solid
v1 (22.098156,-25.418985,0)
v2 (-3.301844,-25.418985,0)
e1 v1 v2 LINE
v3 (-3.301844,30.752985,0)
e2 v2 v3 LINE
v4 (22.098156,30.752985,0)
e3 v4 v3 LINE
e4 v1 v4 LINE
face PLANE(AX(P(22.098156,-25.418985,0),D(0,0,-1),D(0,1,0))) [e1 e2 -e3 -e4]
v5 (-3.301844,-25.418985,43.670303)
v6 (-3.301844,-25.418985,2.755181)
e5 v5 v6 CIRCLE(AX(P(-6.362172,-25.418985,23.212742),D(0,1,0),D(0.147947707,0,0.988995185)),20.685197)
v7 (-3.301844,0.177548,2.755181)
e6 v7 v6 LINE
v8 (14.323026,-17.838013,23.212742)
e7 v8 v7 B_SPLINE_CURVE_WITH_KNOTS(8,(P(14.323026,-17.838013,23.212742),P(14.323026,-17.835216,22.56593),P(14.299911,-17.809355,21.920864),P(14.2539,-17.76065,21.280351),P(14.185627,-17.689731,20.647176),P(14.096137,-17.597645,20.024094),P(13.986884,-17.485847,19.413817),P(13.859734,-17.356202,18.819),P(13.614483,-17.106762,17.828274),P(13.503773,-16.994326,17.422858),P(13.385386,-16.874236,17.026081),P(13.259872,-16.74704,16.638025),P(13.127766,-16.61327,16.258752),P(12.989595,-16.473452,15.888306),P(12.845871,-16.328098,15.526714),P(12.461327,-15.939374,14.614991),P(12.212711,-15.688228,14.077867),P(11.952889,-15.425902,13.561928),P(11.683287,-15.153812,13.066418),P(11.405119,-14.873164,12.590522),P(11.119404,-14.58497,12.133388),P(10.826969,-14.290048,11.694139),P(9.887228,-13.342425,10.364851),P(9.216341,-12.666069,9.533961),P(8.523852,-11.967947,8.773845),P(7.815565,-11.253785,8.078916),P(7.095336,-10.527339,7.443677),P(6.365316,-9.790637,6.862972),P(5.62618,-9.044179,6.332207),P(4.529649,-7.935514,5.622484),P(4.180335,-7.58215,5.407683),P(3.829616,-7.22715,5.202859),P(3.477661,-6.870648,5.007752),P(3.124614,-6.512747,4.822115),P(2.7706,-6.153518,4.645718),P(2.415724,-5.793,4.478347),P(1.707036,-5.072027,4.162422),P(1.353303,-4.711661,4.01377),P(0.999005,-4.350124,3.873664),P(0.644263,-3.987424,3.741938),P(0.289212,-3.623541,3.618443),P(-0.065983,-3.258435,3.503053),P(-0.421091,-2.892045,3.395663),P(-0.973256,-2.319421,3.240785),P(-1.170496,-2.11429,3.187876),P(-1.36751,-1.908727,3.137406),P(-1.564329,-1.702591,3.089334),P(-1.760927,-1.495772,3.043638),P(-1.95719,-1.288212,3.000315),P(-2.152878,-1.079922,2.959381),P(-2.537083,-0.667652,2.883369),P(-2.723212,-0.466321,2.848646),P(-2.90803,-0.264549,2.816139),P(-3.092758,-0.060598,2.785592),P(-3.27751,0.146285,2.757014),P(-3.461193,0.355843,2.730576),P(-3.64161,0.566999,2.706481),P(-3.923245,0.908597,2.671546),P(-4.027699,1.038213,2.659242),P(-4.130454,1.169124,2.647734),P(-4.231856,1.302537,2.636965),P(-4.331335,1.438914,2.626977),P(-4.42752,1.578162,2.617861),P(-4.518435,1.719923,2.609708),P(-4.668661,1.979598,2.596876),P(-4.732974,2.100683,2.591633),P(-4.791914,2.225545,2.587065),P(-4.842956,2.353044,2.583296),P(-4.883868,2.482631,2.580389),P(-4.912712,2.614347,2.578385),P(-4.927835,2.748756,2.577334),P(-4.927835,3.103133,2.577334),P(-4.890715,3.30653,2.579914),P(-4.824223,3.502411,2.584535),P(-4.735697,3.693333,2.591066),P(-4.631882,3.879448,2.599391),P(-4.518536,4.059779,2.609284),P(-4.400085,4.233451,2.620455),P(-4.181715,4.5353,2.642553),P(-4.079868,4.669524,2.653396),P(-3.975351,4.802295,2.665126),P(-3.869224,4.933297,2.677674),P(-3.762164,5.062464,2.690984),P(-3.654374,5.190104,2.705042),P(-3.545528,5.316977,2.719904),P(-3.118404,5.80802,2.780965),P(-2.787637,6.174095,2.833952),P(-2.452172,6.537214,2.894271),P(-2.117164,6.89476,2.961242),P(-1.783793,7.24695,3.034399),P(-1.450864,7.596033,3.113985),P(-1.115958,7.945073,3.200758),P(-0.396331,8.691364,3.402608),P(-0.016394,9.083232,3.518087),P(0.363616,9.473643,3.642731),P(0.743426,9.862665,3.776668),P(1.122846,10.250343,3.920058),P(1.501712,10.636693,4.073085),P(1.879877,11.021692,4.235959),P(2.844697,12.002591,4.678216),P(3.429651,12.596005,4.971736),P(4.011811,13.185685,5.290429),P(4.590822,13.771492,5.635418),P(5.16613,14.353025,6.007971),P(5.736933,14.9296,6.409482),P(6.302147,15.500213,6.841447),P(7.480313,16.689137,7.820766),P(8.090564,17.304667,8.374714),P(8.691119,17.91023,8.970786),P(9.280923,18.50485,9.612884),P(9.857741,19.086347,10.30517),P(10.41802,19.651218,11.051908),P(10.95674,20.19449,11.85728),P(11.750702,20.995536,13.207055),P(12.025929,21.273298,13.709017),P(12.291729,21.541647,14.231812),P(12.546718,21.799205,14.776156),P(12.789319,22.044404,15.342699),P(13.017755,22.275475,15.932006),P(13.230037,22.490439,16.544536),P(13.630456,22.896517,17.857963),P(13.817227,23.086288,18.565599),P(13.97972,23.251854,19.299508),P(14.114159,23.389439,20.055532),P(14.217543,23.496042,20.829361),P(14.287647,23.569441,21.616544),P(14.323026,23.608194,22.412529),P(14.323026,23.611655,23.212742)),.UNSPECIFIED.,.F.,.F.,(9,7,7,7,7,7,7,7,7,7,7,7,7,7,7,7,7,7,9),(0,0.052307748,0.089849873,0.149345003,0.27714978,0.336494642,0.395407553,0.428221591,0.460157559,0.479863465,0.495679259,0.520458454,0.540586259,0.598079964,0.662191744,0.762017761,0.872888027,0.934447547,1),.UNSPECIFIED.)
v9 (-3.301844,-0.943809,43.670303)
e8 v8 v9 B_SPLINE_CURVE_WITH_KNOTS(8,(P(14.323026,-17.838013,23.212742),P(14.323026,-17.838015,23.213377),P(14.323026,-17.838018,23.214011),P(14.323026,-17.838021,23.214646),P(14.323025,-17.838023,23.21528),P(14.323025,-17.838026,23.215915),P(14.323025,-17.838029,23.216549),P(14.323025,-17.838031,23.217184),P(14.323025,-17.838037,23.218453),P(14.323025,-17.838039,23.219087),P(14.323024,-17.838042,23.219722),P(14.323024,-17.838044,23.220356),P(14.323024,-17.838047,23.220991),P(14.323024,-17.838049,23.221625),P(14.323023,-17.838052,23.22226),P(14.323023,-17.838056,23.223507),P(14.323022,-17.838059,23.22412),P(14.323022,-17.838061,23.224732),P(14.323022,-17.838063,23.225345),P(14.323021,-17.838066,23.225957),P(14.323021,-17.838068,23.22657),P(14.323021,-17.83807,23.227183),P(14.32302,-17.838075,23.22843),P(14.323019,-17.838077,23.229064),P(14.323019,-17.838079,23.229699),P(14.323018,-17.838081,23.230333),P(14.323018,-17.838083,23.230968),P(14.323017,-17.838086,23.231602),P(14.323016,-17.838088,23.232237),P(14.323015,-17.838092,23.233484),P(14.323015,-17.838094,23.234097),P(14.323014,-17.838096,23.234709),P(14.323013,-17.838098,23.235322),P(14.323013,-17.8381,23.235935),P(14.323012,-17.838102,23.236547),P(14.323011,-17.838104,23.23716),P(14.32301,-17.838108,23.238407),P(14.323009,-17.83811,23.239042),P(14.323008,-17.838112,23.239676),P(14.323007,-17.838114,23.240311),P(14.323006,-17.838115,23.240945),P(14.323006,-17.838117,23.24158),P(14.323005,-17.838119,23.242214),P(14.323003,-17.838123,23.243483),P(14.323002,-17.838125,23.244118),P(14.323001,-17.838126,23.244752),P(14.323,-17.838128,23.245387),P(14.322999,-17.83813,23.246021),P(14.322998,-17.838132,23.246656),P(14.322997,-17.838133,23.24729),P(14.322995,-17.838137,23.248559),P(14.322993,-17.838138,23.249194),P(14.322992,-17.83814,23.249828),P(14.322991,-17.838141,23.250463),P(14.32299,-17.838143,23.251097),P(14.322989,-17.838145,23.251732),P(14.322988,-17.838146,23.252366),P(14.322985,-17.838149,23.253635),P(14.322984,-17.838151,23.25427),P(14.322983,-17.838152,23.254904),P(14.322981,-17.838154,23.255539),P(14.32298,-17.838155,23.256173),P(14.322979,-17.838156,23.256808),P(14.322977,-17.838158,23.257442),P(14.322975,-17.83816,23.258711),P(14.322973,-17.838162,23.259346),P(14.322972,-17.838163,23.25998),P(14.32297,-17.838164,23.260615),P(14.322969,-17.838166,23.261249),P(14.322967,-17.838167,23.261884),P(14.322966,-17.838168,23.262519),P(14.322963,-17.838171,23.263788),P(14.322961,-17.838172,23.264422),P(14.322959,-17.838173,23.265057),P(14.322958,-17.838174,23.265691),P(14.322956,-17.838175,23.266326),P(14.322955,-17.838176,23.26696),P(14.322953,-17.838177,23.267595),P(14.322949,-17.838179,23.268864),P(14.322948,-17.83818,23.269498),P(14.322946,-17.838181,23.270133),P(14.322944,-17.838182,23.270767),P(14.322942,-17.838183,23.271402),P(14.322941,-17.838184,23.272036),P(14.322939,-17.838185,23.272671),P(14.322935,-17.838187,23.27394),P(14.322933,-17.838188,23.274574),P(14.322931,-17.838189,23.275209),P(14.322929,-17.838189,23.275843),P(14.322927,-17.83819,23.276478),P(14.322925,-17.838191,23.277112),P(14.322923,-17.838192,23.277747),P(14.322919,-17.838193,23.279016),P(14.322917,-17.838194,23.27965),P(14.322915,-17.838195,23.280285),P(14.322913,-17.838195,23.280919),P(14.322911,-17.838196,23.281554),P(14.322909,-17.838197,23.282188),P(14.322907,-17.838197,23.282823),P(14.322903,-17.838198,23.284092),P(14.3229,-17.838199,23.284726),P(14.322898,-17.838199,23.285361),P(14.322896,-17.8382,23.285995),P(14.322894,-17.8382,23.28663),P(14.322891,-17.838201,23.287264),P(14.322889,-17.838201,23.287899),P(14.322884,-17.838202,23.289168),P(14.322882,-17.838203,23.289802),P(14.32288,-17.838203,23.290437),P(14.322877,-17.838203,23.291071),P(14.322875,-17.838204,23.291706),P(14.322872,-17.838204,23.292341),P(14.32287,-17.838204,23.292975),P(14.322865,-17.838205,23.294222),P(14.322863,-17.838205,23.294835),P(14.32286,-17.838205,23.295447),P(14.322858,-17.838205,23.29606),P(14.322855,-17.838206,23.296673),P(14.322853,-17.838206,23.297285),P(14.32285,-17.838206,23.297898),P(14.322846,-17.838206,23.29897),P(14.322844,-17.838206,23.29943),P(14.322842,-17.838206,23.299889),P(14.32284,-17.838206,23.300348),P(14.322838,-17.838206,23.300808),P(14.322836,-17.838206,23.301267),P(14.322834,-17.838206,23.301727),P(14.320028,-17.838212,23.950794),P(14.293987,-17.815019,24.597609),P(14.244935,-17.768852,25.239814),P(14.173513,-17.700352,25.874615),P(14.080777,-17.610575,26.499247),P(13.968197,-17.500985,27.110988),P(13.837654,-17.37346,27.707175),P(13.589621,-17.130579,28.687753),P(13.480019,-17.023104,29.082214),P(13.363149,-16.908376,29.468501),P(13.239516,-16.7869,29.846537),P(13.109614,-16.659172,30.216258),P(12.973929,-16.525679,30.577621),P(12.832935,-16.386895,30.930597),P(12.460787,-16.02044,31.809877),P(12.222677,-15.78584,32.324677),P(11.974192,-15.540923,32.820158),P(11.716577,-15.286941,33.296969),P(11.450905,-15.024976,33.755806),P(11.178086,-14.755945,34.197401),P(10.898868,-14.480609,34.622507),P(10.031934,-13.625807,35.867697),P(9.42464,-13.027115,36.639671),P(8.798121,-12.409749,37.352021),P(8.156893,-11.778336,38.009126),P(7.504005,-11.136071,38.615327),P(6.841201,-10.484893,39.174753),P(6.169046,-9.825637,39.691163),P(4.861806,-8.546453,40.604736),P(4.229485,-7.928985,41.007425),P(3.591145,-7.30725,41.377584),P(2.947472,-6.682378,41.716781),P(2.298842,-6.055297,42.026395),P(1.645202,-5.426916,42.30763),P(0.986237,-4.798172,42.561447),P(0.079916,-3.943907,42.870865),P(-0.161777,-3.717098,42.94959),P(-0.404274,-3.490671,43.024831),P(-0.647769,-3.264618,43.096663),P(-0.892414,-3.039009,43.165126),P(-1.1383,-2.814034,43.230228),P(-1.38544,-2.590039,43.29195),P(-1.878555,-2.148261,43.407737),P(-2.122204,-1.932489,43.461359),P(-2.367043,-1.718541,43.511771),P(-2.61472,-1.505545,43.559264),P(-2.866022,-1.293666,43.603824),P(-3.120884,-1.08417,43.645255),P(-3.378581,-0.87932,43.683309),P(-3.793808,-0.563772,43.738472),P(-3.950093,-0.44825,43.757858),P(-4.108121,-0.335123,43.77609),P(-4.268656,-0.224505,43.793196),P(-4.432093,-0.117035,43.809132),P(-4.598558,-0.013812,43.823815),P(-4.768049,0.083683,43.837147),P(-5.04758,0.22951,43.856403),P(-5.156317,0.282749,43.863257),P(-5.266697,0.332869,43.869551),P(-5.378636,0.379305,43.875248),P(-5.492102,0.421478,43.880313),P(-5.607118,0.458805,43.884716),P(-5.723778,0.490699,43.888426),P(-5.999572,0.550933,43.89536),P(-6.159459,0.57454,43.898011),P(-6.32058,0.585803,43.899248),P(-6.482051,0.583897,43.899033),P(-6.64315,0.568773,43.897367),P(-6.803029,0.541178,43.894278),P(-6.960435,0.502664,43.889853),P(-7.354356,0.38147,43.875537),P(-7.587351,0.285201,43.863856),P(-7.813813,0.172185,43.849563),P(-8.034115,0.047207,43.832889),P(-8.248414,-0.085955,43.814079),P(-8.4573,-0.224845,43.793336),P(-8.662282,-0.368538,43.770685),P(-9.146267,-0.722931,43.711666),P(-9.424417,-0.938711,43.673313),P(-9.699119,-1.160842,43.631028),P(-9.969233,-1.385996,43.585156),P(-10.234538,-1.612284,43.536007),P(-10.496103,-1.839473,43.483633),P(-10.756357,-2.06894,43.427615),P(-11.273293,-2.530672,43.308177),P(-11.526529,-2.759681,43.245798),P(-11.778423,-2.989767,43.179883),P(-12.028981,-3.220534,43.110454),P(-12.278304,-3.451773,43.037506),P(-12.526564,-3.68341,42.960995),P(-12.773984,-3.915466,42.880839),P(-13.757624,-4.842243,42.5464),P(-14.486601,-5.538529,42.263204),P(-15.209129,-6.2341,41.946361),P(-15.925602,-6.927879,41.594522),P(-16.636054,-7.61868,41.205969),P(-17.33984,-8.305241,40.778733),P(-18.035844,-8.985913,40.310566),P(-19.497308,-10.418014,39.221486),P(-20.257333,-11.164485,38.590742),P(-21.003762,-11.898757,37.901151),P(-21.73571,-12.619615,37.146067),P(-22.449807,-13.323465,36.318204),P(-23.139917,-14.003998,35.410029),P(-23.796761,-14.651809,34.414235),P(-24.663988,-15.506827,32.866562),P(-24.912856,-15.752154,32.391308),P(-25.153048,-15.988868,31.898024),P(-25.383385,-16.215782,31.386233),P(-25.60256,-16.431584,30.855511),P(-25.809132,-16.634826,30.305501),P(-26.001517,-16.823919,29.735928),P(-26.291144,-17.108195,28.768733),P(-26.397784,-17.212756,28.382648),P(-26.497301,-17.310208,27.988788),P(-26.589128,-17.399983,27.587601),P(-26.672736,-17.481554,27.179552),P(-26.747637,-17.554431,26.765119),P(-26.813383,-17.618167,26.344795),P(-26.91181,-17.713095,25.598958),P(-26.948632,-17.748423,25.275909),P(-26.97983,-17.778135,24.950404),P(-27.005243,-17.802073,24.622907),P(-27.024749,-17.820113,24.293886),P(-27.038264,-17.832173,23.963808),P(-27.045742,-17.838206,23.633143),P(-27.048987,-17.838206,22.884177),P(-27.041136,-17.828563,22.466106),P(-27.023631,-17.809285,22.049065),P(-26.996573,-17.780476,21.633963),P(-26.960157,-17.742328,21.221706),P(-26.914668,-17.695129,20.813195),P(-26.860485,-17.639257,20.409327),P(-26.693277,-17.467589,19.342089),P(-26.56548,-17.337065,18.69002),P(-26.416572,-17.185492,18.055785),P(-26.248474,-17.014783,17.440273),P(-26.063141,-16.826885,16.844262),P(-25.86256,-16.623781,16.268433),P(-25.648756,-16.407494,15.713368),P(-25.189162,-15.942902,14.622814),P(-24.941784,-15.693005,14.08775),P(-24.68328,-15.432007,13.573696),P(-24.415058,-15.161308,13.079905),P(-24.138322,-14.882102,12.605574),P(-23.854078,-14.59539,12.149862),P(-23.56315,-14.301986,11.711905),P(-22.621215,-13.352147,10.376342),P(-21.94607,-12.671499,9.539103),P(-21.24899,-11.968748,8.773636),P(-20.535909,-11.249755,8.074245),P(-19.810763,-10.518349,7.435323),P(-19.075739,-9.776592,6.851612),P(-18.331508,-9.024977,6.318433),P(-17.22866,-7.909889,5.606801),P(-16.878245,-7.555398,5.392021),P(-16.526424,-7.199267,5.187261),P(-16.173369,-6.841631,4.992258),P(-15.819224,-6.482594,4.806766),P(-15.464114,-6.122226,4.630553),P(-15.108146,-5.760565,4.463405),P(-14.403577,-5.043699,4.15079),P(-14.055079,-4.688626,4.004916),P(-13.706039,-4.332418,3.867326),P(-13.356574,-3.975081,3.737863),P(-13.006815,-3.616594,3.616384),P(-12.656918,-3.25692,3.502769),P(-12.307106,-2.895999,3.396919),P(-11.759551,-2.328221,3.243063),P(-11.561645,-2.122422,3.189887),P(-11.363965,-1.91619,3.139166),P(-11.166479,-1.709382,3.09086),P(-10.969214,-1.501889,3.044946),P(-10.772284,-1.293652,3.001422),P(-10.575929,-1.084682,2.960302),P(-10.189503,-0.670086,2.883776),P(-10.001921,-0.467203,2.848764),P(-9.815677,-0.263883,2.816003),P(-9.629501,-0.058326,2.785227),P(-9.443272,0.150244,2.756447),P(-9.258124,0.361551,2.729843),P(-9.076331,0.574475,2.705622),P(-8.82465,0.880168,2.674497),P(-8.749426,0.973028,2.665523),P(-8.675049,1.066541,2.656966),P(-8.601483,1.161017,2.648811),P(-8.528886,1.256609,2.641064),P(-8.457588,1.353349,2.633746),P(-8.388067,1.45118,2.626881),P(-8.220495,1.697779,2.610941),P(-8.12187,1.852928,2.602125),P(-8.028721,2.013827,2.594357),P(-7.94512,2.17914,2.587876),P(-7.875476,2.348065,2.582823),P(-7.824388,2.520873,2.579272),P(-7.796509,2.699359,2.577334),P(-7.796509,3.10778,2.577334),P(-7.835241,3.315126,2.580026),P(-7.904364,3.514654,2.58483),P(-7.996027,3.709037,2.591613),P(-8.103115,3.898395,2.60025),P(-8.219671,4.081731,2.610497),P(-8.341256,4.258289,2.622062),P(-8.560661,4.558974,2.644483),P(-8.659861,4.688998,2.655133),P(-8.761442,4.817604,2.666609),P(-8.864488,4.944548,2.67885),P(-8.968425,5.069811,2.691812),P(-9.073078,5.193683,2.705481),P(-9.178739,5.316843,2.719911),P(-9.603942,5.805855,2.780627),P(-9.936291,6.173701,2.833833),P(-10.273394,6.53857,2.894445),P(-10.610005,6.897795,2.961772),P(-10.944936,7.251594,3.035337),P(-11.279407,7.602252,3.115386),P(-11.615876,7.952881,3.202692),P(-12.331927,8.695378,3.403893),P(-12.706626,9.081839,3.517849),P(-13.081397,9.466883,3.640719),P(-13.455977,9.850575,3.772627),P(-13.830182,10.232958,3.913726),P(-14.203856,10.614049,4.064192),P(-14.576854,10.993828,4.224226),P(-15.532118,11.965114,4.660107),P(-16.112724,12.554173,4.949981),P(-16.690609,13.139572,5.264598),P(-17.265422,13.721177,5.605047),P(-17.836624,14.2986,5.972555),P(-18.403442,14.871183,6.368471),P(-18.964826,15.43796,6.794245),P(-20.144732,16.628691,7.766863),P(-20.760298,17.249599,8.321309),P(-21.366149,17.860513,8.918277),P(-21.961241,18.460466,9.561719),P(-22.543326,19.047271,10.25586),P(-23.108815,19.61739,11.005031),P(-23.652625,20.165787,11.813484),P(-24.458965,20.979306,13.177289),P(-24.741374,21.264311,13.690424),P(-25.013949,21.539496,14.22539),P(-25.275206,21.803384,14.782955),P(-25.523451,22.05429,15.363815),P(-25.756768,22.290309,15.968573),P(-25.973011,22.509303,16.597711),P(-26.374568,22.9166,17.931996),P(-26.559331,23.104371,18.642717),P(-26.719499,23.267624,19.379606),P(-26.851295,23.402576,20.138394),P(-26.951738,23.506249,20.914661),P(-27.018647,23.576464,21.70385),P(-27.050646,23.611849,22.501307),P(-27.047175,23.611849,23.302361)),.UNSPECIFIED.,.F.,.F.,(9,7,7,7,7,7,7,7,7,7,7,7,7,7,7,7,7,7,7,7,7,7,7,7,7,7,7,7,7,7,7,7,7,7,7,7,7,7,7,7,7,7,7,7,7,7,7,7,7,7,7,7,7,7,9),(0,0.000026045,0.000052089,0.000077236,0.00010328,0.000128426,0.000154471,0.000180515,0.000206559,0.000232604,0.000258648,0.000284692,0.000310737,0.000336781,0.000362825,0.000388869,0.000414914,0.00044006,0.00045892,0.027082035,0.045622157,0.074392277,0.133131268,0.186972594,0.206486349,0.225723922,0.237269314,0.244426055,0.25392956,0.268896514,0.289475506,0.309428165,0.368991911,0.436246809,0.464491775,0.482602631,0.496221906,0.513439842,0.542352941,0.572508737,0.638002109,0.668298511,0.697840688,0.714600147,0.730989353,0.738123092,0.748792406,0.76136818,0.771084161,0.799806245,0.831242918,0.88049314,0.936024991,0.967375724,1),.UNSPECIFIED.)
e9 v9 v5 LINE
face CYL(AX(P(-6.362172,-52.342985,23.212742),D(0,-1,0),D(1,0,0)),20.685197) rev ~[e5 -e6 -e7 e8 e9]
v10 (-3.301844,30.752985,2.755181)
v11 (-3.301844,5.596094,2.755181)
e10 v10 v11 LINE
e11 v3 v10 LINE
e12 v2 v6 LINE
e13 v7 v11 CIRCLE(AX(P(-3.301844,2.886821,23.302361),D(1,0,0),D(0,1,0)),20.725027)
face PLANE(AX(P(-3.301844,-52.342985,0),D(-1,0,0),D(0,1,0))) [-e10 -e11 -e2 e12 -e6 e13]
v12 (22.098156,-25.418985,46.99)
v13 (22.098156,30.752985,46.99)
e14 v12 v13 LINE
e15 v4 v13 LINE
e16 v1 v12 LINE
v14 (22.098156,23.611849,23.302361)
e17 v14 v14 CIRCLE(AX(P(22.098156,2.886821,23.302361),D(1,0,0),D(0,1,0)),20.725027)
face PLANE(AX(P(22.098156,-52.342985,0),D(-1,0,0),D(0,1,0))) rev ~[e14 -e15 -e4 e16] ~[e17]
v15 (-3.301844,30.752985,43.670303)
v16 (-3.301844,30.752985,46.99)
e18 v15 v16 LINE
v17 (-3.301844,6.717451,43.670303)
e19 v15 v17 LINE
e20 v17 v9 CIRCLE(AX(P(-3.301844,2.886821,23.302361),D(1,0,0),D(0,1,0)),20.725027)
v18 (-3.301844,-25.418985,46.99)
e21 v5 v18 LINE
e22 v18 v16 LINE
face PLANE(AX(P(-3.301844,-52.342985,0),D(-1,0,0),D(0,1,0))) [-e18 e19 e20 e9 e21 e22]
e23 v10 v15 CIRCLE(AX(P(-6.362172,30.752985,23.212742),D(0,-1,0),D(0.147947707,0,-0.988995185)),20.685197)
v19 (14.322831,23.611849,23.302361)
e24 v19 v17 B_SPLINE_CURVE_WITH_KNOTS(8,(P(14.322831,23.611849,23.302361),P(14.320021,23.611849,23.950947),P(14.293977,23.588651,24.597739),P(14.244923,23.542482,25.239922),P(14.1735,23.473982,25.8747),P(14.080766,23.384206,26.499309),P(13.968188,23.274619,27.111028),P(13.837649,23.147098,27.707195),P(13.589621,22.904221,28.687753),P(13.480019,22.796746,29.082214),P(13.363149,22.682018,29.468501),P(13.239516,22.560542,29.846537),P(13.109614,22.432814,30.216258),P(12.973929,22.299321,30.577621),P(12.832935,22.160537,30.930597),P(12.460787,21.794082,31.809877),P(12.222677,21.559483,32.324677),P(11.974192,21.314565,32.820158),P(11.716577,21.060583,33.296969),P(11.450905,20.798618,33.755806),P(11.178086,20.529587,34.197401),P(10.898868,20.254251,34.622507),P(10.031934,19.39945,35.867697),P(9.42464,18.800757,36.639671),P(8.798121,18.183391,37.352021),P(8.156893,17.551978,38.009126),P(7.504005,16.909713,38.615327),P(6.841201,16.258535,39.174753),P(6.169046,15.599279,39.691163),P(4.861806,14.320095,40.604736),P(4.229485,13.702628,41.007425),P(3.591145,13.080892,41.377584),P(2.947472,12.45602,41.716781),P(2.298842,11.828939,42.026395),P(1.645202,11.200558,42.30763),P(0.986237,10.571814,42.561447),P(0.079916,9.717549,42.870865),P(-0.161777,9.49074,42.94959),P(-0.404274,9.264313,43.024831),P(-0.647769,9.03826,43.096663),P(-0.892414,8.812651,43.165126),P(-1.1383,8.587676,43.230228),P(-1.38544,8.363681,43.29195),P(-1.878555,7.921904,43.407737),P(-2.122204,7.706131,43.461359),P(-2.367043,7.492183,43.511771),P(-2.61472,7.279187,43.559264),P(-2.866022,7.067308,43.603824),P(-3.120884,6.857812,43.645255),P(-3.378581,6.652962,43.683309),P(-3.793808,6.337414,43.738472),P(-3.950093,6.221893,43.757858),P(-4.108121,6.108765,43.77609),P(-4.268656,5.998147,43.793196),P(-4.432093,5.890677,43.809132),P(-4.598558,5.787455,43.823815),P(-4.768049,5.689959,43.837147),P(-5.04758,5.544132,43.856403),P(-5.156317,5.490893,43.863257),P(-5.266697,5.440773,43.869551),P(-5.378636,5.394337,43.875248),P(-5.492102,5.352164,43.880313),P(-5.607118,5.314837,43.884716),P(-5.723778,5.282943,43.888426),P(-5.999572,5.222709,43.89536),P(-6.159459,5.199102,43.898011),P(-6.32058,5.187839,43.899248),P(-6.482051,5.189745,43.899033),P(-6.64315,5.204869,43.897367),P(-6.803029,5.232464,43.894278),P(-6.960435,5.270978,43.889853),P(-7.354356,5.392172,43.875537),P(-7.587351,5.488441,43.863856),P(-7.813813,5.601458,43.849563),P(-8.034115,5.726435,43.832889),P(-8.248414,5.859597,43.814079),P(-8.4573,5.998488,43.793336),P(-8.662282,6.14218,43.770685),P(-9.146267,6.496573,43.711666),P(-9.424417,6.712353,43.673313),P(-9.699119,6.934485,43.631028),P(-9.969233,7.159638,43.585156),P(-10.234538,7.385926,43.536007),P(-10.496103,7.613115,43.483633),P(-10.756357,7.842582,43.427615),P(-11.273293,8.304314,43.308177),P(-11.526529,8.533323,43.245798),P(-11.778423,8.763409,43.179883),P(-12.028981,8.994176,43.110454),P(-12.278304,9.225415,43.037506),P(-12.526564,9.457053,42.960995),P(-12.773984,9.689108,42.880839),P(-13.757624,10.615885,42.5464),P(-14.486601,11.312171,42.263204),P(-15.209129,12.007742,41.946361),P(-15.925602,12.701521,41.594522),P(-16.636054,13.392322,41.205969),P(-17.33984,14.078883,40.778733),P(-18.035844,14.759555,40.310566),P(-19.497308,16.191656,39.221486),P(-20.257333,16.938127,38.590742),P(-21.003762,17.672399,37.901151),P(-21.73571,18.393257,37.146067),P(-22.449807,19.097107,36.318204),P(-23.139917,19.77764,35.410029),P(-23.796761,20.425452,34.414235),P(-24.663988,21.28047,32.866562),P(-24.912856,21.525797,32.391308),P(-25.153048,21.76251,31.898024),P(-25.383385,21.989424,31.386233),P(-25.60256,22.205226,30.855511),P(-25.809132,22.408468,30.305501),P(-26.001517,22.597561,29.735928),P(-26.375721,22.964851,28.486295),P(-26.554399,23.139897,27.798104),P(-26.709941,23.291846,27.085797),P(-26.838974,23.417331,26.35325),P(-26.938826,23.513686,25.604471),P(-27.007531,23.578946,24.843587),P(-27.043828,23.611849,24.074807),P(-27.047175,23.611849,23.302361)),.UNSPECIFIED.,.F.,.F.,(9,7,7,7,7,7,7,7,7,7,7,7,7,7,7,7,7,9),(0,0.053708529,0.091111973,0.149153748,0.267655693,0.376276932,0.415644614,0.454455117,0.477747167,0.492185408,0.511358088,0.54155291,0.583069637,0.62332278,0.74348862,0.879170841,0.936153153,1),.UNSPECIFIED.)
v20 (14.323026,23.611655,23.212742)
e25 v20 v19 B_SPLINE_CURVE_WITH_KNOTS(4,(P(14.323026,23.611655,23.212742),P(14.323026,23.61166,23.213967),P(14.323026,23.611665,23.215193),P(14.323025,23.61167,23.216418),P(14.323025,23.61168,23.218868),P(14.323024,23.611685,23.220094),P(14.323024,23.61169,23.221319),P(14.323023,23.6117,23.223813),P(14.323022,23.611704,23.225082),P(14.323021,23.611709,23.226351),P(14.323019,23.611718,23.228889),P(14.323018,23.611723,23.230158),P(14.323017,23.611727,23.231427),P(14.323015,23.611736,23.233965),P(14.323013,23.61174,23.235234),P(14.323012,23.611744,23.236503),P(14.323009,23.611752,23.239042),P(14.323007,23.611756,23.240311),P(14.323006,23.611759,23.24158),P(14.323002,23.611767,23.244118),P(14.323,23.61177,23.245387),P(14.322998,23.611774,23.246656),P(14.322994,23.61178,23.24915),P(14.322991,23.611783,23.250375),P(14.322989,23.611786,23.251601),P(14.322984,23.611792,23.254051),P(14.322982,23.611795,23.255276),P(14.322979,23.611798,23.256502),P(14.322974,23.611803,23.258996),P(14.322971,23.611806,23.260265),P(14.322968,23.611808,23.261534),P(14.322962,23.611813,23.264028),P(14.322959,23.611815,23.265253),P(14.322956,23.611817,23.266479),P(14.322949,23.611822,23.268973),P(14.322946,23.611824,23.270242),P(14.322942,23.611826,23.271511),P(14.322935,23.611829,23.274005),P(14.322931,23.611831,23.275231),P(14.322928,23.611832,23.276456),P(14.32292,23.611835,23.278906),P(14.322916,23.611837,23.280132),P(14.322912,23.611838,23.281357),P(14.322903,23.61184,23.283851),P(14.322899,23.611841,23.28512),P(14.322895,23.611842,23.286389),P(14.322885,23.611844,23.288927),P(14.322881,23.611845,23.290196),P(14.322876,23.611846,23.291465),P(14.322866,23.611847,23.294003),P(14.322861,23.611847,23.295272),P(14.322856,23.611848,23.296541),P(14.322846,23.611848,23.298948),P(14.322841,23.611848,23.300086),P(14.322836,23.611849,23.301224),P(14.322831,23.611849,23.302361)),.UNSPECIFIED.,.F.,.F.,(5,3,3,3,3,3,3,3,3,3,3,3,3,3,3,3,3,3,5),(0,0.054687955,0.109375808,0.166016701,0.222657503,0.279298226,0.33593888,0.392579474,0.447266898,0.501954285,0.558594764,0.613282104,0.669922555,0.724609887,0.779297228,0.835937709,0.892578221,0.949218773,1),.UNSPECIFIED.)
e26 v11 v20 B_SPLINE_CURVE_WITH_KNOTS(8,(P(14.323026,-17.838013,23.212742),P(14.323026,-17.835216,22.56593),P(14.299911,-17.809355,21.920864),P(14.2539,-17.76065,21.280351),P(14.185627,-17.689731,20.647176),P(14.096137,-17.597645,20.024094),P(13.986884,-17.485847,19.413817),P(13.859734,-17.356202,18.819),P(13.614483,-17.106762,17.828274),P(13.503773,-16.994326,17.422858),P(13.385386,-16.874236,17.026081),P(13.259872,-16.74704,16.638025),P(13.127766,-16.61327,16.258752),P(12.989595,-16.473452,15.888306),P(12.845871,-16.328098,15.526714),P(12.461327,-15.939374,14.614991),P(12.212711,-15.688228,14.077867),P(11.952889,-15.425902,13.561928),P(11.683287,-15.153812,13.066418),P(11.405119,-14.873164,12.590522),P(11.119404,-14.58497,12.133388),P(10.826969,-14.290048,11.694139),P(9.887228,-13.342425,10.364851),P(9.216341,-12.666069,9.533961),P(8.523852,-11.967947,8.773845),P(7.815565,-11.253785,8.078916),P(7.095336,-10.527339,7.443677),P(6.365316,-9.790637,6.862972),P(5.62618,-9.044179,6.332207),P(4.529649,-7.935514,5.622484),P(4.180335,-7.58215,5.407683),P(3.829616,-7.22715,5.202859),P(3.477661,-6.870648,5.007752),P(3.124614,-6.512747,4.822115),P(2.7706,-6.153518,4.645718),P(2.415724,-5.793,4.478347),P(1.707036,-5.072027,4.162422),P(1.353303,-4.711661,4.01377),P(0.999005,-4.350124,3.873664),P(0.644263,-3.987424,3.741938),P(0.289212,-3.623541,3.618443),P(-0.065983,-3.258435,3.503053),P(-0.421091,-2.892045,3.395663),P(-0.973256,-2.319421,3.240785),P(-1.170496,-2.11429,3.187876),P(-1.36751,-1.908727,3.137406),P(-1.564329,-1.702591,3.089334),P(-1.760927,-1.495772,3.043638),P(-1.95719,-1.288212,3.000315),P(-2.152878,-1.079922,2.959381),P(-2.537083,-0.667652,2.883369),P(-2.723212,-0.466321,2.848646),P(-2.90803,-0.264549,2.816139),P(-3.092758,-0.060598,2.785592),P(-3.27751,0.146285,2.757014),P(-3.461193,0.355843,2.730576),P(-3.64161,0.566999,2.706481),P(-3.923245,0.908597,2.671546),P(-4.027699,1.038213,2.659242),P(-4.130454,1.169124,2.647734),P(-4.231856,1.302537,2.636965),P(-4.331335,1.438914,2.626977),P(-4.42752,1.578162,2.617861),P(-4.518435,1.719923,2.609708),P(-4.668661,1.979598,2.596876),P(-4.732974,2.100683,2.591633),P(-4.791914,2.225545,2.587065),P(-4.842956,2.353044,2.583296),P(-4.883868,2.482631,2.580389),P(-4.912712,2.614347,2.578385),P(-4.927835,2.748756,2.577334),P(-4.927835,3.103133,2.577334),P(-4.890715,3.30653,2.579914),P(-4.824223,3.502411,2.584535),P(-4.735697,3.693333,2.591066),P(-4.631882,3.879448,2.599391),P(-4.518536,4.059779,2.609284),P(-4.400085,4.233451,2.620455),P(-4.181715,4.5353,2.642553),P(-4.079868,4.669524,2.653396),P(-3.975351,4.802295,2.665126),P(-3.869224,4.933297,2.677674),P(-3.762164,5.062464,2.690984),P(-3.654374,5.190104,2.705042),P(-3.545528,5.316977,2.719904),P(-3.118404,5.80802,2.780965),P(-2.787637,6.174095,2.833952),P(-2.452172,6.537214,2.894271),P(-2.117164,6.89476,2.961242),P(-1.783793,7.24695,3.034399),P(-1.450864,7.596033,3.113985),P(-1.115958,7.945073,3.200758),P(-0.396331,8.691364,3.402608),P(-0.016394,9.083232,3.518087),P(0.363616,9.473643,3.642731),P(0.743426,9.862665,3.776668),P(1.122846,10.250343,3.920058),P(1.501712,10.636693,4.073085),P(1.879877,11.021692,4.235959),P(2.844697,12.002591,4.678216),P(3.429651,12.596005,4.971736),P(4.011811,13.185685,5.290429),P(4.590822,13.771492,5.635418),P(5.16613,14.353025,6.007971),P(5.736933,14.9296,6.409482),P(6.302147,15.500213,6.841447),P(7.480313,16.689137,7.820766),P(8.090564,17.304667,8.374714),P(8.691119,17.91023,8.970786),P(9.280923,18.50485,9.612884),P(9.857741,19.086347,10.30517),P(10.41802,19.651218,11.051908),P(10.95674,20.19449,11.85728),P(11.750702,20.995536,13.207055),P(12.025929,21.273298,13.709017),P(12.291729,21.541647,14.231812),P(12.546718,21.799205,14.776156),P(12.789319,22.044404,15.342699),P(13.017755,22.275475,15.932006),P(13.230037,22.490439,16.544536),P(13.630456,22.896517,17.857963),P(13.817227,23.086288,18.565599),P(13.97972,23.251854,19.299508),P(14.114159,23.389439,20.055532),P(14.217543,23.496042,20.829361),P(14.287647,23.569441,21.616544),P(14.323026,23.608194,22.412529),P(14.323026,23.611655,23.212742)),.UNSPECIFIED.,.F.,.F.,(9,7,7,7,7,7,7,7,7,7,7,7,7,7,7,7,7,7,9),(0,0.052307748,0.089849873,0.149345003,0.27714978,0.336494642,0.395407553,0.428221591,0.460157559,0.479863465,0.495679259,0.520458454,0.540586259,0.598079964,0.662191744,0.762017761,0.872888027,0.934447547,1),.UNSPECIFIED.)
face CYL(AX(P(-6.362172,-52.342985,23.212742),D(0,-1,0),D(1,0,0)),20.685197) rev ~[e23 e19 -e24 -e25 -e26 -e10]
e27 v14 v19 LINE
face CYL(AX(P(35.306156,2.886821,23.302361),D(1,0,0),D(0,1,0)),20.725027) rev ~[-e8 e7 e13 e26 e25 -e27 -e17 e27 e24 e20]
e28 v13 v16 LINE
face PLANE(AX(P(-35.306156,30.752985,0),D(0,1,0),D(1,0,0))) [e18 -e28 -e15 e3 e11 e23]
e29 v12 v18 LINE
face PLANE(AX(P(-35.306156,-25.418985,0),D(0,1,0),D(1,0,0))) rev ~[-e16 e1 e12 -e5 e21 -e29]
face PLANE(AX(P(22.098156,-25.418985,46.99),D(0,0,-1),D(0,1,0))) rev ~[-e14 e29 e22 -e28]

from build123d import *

# Parameters (mm, degrees)
F0_W      = 70.6123113632
F0_H      = 104.6859696507
F1_DEPTH  = 52.07
F2_R      = 20.6851974424
F3_DEPTH  = 118.618
F4_R      = 20.7250274732
F5_DEPTH  = 93.98
F6_DEPTH  = 21.59
F7_DEPTH  = 26.924
F8_DEPTH  = 13.208
F9_DEPTH  = 5.08
F10_DEPTH = 25.4


with BuildPart() as f1:
    # F0 (on Top) → F1 (new body)
    with BuildSketch(Plane.XY):
        Rectangle(F0_W, F0_H)
    extrude(amount=F1_DEPTH)

    # F2 (on face) → F3 (cut)
    with BuildSketch(Plane.XZ.offset(52.3429848254)):
        with Locations((-6.3621718436, 23.2127420604)):
            Circle(F2_R)
    extrude(amount=-F3_DEPTH, mode=Mode.SUBTRACT)

    # F4 (on face) → F5 (cut)
    with BuildSketch(Plane.YZ.offset(35.3061556816)):
        with Locations((2.8868210502, 23.3023613691)):
            Circle(F4_R)
    extrude(amount=-F5_DEPTH, mode=Mode.SUBTRACT)

    # F6 (cut): a face of the model
    f6_faces = [f1.faces().sort_by_distance(p)[0] for p in [
        (34.4288083492, 52.3429848254, 26.035),
    ]]
    extrude(f6_faces, amount=-F6_DEPTH, mode=Mode.SUBTRACT)

    # F7 (cut): a face of the model
    f7_faces = [f1.faces().sort_by_distance(p)[0] for p in [
        (-34.4288083492, -52.3429848254, 26.035),
    ]]
    extrude(f7_faces, amount=-F7_DEPTH, mode=Mode.SUBTRACT)

    # F8 (cut): a face of the model
    f8_faces = [f1.faces().sort_by_distance(p)[0] for p in [
        (35.3061556816, 2.667, 0.7659357071),
    ]]
    extrude(f8_faces, amount=-F8_DEPTH, mode=Mode.SUBTRACT)

    # F9 (cut): a face of the model
    f9_faces = [f1.faces().sort_by_distance(p)[0] for p in [
        (-6.604, 2.667, 52.07),
    ]]
    extrude(f9_faces, amount=-F9_DEPTH, mode=Mode.SUBTRACT)

    # F10 (intersect): a face of the model
    f10_faces = [f1.faces().sort_by_distance(p)[0] for p in [
        (22.0981556816, 2.667, 0.7323489793),
    ]]
    extrude(f10_faces, amount=-F10_DEPTH, mode=Mode.INTERSECT)


solid = f1.part
